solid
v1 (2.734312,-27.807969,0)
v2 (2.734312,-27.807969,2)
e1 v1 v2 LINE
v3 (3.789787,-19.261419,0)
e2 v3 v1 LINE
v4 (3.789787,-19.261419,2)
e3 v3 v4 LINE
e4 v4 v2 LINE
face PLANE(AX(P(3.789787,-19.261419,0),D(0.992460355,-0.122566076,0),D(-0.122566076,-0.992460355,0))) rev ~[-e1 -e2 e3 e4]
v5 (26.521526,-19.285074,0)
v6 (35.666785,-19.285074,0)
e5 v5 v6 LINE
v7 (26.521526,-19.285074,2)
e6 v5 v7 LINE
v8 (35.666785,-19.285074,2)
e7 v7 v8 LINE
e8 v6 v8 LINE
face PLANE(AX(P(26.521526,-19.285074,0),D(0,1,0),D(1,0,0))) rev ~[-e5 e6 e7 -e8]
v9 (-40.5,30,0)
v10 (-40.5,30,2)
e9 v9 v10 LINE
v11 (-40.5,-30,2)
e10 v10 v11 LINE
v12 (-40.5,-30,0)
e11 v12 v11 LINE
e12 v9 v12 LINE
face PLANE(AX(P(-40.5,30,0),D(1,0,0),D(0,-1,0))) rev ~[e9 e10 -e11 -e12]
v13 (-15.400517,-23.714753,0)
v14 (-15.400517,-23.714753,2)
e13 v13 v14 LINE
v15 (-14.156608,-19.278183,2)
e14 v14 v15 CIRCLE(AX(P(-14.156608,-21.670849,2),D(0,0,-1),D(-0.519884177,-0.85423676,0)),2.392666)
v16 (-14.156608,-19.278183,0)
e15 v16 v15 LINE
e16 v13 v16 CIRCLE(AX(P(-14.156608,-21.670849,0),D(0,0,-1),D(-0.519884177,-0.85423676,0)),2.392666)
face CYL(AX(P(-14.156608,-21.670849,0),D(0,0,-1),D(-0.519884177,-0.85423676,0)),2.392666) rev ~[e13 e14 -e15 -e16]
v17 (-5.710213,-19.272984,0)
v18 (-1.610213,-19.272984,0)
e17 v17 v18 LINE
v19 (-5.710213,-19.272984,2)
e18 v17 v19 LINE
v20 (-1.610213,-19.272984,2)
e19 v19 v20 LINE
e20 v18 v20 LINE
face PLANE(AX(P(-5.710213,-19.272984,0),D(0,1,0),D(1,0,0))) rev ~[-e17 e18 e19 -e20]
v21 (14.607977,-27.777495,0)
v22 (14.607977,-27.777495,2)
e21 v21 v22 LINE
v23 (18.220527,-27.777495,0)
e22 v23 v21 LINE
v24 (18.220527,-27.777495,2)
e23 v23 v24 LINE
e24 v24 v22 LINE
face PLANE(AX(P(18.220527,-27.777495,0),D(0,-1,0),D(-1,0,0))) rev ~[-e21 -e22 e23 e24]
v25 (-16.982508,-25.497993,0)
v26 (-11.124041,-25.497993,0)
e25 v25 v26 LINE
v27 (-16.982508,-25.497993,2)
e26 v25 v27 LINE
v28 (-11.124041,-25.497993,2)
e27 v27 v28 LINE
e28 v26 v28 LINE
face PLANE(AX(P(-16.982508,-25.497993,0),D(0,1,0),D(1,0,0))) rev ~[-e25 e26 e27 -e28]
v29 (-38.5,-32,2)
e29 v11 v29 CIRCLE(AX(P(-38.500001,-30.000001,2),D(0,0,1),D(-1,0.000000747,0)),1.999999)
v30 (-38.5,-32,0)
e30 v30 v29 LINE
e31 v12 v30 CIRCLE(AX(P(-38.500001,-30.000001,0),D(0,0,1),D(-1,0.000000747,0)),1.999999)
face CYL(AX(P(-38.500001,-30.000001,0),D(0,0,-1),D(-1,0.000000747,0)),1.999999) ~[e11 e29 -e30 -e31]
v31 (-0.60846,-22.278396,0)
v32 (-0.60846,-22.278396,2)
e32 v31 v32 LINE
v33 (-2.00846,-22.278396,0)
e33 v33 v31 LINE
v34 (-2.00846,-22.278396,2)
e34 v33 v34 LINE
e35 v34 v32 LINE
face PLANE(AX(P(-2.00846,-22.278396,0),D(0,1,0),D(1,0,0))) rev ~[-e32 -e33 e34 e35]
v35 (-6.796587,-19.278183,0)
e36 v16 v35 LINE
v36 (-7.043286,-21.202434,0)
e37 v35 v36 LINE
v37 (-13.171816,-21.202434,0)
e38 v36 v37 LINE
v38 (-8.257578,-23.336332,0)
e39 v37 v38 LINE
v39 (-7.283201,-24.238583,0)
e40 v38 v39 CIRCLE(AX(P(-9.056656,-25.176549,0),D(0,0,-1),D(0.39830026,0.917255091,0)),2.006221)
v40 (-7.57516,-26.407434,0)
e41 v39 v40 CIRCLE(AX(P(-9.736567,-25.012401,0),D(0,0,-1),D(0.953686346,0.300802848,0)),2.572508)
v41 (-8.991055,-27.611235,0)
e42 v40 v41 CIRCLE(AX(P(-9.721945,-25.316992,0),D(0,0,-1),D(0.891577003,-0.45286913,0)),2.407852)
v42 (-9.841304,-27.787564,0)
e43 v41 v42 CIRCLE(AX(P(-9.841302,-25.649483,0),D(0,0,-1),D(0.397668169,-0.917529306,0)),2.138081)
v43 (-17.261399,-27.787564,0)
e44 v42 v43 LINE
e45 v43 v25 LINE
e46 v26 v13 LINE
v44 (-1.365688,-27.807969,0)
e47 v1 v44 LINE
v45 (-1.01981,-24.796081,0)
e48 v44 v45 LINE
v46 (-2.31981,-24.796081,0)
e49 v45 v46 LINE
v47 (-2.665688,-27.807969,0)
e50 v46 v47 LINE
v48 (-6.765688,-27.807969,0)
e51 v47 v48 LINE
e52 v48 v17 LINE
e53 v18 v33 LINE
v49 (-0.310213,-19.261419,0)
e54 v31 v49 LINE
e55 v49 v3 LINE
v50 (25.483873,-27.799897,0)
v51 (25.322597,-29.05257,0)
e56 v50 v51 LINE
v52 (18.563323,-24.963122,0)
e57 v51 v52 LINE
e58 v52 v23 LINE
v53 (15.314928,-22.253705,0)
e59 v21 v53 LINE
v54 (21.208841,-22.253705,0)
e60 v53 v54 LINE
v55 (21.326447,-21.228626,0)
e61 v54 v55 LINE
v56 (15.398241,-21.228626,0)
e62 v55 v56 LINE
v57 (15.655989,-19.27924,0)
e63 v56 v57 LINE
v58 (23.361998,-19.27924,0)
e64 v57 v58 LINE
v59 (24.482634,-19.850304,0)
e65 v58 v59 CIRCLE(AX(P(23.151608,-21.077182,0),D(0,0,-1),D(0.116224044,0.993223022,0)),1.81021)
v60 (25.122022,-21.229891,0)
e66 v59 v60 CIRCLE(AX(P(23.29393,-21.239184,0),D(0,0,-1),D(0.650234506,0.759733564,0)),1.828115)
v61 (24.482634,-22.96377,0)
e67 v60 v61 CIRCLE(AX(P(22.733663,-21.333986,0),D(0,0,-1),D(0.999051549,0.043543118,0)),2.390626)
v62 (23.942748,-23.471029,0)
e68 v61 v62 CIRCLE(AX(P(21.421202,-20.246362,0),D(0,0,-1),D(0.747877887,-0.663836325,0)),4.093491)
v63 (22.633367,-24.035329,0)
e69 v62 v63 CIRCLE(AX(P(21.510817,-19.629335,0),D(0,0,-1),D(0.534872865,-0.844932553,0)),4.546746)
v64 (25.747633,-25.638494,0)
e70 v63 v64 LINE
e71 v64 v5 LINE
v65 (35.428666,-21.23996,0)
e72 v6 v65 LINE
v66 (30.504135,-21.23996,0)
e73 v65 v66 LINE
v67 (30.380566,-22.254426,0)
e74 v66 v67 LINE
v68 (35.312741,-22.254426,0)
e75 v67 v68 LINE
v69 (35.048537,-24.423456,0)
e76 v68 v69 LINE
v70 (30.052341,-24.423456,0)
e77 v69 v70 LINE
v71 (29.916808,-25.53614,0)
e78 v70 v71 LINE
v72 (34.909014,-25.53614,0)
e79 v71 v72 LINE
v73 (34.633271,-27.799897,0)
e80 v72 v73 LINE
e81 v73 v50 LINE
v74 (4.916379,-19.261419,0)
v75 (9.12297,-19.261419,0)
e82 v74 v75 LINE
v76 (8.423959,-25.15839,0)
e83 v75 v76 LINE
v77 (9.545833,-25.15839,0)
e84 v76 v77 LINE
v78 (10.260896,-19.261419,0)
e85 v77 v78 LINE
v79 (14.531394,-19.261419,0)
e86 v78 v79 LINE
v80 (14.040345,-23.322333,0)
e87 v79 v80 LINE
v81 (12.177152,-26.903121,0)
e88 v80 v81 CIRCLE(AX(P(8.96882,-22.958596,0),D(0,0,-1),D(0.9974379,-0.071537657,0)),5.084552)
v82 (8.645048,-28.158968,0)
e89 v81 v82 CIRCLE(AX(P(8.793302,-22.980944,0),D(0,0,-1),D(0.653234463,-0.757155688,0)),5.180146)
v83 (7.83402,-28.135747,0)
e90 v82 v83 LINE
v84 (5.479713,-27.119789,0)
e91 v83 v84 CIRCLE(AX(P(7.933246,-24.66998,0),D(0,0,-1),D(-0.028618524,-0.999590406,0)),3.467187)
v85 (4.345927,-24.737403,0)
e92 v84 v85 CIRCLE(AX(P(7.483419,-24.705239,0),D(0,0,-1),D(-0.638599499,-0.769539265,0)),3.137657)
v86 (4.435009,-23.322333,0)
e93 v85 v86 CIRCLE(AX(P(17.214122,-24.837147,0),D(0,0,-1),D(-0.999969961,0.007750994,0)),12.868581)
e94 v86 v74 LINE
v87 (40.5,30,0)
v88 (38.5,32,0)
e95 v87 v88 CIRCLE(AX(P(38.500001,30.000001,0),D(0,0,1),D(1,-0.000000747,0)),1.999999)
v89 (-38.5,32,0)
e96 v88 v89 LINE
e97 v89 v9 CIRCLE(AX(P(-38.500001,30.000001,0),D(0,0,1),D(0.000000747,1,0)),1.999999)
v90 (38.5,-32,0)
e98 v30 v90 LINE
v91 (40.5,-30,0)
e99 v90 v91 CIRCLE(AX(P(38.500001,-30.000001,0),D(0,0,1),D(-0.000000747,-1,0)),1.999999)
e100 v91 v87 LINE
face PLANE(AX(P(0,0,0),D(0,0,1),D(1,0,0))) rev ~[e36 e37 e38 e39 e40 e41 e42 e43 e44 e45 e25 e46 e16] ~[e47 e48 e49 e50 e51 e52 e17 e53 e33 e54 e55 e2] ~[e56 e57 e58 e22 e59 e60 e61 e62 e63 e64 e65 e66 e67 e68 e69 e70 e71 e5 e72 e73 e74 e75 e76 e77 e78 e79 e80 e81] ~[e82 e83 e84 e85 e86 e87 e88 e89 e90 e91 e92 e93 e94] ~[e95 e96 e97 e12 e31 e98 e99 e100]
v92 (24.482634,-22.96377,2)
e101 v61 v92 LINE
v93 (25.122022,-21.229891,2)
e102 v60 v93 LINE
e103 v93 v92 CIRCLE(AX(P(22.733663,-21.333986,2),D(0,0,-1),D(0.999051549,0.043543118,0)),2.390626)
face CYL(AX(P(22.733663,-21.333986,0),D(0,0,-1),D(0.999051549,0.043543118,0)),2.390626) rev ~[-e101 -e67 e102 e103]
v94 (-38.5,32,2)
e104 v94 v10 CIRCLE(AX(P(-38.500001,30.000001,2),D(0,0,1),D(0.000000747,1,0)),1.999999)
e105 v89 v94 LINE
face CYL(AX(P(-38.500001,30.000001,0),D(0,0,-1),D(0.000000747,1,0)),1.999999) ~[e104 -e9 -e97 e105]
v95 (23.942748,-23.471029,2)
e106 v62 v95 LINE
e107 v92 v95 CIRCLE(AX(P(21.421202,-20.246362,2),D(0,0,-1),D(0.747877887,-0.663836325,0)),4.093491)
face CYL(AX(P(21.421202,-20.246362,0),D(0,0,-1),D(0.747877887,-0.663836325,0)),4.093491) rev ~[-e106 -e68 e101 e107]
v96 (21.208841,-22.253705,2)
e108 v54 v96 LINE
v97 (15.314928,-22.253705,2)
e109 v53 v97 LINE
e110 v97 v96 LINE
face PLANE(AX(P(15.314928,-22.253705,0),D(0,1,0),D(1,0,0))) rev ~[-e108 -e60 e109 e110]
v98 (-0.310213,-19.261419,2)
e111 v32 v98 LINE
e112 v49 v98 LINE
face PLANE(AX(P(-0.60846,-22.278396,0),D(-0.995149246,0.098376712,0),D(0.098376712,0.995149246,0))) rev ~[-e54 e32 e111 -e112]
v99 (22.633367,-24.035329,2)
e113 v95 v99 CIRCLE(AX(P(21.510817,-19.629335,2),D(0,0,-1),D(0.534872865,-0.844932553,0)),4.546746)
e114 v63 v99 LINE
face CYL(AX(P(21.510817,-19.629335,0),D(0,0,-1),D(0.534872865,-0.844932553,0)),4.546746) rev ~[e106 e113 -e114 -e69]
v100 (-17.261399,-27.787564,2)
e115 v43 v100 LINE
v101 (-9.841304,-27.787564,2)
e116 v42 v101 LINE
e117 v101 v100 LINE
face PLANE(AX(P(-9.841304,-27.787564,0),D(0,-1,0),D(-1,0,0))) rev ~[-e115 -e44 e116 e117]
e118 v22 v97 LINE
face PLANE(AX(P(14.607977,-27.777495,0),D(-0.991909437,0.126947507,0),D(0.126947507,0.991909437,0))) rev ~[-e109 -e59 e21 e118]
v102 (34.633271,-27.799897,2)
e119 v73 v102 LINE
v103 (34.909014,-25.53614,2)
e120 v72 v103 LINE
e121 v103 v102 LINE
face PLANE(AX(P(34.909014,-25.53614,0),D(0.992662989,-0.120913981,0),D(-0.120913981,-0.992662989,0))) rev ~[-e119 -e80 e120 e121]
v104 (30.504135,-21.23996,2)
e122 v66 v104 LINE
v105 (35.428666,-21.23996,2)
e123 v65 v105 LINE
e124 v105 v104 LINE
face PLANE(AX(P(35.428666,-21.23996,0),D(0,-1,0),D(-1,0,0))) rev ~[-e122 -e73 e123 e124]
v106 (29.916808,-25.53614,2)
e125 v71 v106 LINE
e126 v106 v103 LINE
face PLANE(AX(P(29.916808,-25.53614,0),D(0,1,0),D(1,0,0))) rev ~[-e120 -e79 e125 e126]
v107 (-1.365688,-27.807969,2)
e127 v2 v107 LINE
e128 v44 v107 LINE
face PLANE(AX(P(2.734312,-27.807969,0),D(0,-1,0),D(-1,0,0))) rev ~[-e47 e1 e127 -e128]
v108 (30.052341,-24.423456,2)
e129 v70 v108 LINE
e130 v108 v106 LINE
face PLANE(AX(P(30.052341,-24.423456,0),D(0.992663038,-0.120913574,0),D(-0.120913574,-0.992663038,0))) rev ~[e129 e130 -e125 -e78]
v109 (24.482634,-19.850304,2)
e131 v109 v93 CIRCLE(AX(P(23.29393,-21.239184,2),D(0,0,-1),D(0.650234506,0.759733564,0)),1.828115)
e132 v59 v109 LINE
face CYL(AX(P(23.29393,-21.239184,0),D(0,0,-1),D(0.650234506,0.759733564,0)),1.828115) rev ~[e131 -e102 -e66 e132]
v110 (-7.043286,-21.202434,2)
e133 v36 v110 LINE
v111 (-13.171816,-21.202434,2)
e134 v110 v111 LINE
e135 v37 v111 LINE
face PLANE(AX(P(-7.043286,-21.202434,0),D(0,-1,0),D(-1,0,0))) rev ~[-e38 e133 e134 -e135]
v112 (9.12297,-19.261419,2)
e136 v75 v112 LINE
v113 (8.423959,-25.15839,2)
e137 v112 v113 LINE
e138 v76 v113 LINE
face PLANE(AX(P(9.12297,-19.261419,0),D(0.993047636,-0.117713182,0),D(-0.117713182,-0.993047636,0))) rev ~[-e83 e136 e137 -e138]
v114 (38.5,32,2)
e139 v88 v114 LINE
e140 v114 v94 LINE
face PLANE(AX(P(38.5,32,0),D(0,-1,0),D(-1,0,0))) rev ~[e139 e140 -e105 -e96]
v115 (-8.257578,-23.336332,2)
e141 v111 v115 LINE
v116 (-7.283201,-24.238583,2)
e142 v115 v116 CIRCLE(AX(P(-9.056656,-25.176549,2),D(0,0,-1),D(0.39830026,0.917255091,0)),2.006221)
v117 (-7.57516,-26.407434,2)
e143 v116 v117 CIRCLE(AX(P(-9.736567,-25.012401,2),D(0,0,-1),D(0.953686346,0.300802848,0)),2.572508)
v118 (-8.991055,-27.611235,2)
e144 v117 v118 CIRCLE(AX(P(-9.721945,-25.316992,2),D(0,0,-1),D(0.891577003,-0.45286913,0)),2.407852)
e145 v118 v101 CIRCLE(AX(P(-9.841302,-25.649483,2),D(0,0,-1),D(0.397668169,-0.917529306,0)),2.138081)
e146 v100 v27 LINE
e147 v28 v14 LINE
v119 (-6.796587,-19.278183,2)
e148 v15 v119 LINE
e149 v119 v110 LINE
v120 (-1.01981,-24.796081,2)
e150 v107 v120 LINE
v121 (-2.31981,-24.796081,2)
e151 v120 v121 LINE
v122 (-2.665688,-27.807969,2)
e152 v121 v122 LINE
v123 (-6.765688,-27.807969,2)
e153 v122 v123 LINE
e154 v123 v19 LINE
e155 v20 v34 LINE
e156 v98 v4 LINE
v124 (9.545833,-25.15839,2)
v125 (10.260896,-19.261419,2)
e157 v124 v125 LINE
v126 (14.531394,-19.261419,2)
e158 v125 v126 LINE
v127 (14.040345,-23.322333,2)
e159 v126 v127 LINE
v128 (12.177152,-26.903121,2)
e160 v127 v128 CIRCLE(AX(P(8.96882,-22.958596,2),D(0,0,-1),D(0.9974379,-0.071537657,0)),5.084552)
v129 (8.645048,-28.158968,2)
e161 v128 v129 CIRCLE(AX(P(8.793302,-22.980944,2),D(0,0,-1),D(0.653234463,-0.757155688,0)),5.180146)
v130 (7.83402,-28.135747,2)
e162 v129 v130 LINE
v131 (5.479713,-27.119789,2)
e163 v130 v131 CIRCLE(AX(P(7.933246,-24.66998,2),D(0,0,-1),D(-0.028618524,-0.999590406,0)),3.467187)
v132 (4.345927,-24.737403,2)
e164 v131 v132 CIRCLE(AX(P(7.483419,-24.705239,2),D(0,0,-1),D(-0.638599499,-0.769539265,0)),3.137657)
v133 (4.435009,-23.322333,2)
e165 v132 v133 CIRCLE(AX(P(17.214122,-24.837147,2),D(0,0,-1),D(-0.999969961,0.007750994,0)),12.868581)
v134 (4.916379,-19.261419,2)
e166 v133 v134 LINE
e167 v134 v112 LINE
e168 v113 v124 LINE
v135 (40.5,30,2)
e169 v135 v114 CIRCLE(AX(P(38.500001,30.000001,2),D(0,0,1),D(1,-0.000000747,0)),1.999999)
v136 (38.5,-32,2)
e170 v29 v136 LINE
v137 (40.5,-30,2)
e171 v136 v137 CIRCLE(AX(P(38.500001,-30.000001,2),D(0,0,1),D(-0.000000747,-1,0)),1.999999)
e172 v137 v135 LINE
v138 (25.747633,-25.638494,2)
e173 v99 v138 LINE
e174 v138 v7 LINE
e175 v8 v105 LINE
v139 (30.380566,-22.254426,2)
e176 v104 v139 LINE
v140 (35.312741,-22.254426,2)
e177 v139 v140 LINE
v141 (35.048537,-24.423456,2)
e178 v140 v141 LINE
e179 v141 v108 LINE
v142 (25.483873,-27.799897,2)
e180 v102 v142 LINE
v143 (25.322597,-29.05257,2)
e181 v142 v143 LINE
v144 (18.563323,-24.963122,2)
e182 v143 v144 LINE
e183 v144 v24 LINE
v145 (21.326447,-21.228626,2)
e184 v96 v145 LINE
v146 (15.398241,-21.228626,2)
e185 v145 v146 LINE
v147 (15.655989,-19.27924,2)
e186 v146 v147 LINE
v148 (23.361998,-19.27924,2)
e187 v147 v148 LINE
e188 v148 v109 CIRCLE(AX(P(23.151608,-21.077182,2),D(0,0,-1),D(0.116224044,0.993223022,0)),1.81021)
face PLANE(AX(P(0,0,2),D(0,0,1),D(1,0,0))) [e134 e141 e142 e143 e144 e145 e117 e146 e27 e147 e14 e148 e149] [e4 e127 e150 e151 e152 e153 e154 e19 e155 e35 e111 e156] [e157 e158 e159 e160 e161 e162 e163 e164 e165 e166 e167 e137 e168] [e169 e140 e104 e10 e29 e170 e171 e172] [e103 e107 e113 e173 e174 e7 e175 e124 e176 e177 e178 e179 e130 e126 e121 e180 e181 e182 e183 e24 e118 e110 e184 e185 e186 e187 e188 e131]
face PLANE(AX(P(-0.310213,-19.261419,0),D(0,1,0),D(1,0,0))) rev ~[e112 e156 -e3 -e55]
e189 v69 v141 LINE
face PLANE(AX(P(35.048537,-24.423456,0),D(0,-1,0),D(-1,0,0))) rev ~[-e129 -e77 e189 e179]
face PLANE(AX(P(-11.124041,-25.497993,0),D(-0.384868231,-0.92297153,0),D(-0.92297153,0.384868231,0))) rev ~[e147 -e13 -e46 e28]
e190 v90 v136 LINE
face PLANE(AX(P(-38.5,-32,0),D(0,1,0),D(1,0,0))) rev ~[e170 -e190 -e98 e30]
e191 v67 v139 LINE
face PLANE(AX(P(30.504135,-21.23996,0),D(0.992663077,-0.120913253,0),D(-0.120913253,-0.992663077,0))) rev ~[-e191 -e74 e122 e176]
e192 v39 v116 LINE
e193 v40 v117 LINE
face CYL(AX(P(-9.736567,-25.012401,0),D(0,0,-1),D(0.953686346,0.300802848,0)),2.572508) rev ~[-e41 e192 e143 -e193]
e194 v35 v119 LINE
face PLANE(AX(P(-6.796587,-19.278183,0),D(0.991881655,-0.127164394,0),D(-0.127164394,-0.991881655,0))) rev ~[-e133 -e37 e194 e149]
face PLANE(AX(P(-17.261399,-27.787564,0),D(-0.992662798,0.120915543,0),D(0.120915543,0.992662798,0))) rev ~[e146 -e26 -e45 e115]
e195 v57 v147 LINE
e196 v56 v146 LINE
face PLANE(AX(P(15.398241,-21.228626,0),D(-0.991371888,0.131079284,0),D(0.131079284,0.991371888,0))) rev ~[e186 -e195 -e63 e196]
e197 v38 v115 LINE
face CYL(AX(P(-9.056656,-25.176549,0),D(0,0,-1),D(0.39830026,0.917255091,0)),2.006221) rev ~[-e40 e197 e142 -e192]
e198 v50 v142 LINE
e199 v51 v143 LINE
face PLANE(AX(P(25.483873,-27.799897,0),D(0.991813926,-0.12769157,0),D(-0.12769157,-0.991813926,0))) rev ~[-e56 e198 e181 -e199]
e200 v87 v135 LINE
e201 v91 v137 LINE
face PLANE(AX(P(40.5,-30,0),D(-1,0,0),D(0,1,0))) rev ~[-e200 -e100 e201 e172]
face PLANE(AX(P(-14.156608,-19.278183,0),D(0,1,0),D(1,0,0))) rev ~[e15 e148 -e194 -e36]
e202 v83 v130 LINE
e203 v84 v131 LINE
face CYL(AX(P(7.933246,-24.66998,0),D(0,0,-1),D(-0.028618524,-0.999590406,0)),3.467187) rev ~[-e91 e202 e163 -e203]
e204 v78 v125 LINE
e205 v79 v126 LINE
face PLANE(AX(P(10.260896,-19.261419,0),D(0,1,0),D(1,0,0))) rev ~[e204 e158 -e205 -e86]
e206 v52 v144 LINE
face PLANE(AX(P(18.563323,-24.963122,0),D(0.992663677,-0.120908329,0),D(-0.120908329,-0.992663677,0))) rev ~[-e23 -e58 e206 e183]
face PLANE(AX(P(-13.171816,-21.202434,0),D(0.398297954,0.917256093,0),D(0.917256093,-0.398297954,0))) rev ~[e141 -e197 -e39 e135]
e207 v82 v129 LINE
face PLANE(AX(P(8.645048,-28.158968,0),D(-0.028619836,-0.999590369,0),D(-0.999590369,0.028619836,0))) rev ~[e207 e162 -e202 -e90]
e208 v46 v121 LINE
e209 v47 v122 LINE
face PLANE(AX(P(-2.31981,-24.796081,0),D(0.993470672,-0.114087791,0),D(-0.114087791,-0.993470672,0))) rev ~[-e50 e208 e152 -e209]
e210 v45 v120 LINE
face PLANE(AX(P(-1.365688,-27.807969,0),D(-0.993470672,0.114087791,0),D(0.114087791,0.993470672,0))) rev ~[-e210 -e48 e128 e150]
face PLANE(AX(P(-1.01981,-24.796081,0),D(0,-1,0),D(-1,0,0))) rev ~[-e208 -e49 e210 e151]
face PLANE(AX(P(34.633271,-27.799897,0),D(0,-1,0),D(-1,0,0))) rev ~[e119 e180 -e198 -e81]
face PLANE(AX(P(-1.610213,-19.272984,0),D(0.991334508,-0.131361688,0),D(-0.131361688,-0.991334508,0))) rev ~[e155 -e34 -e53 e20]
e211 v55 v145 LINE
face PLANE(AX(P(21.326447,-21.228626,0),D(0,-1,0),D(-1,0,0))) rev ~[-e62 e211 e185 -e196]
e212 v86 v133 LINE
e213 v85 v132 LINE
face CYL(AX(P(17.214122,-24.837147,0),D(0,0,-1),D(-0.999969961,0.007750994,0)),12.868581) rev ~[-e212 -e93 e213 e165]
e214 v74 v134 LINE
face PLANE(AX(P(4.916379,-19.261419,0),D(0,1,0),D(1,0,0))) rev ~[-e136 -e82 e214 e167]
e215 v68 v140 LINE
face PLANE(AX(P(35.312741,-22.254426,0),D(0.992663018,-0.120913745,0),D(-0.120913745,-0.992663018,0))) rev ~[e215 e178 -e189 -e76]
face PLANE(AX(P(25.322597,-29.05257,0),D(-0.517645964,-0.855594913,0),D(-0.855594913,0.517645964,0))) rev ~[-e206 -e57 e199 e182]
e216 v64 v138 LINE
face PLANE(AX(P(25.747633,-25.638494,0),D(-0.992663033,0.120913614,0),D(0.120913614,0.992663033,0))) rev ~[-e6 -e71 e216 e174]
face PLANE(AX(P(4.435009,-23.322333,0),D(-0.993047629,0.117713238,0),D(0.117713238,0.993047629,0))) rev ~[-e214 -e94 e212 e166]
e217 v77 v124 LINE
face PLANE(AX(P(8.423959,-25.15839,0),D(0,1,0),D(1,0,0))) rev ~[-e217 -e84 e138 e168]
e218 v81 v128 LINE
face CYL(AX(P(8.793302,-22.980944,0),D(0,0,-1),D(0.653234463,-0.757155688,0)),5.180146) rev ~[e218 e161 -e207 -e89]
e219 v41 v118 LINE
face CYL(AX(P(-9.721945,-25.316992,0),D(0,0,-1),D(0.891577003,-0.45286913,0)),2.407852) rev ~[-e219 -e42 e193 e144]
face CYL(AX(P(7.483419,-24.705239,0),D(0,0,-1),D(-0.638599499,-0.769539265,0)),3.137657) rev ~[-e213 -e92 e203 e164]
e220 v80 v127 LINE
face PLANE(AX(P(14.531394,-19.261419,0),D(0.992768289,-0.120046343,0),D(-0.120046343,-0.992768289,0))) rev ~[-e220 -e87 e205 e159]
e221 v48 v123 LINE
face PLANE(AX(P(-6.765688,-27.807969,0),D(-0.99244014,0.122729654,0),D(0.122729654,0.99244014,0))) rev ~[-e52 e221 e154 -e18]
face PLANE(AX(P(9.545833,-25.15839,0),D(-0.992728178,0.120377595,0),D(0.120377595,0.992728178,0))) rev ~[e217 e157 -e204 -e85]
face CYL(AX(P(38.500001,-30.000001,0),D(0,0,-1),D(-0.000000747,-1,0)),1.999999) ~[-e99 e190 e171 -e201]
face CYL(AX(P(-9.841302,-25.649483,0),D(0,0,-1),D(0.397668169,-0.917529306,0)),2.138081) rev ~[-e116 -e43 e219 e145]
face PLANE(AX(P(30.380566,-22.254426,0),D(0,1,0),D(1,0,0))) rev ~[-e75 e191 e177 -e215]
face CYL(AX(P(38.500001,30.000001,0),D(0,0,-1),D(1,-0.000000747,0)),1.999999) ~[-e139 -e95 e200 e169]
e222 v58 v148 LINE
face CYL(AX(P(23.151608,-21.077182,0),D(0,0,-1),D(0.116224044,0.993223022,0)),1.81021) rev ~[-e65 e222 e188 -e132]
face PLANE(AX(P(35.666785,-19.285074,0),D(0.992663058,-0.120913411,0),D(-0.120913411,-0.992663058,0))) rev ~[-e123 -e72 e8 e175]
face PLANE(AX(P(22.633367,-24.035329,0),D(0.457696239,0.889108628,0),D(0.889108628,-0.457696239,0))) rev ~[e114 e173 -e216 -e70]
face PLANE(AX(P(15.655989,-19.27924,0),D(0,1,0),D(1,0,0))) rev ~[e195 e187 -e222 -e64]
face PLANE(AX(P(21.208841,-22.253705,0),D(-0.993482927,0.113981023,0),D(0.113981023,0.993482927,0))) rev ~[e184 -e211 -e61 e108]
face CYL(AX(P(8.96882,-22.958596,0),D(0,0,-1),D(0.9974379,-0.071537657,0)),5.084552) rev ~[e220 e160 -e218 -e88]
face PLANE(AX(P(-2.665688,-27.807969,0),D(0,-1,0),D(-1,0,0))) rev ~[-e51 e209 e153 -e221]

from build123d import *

# Parameters (mm, degrees)
F1_DEPTH = 2


with BuildPart() as f1:
    # F0 (on Top) → F1 (new body)
    with BuildSketch(Plane.XY):
        with BuildLine():
            Line((38.5, 32), (-38.5, 32))
            ThreePointArc((-38.5, 32), (-39.914214, 31.414214), (-40.5, 30))
            Line((-40.5, 30), (-40.5, -30))
            ThreePointArc((-40.5, -30), (-39.914214, -31.414214), (-38.5, -32))
            Line((-38.5, -32), (38.5, -32))
            ThreePointArc((38.5, -32), (39.914214, -31.414214), (40.5, -30))
            Line((40.5, -30), (40.5, 30))
            ThreePointArc((40.5, 30), (39.914214, 31.414214), (38.5, 32))
        make_face()
        with BuildLine():
            Line((-14.156608, -19.278183), (-6.796587, -19.278183))
            Line((-6.796587, -19.278183), (-7.043286, -21.202434))
            Line((-7.043286, -21.202434), (-13.171816, -21.202434))
            Line((-13.171816, -21.202434), (-8.257578, -23.336332))
            ThreePointArc((-8.257578, -23.336332), (-7.693573, -23.7045), (-7.283201, -24.238583))
            ThreePointArc((-7.283201, -24.238583), (-7.187055, -25.355602), (-7.57516, -26.407434))
            ThreePointArc((-7.57516, -26.407434), (-8.162286, -27.151444), (-8.991055, -27.611235))
            ThreePointArc((-8.991055, -27.611235), (-9.407134, -27.743018), (-9.841304, -27.787564))
            Line((-9.841304, -27.787564), (-17.261399, -27.787564))
            Line((-17.261399, -27.787564), (-16.982508, -25.497993))
            Line((-16.982508, -25.497993), (-11.124041, -25.497993))
            Line((-11.124041, -25.497993), (-15.400517, -23.714753))
            ThreePointArc((-15.400517, -23.714753), (-16.460434, -21.024911), (-14.156608, -19.278183))
        make_face(mode=Mode.SUBTRACT)
        Polygon((-6.765688, -27.807969), (-5.710213, -19.272984), (-1.610213, -19.272984), (-2.00846, -22.278396), (-0.60846, -22.278396), (-0.310213, -19.261419), (3.789787, -19.261419), (2.734312, -27.807969), (-1.365688, -27.807969), (-1.01981, -24.796081), (-2.31981, -24.796081), (-2.665688, -27.807969), align=None, mode=Mode.SUBTRACT)
        with BuildLine():
            Line((4.435009, -23.322333), (4.916379, -19.261419))
            Line((4.916379, -19.261419), (9.12297, -19.261419))
            Line((9.12297, -19.261419), (8.423959, -25.15839))
            Line((8.423959, -25.15839), (9.545833, -25.15839))
            Line((9.545833, -25.15839), (10.260896, -19.261419))
            Line((10.260896, -19.261419), (14.531394, -19.261419))
            Line((14.531394, -19.261419), (14.040345, -23.322333))
            ThreePointArc((14.040345, -23.322333), (13.47931, -25.305541), (12.177152, -26.903121))
            ThreePointArc((12.177152, -26.903121), (10.528686, -27.861759), (8.645048, -28.158968))
            Line((8.645048, -28.158968), (7.83402, -28.135747))
            ThreePointArc((7.83402, -28.135747), (6.559497, -27.853406), (5.479713, -27.119789))
            ThreePointArc((5.479713, -27.119789), (4.650237, -26.05356), (4.345927, -24.737403))
            ThreePointArc((4.345927, -24.737403), (4.370964, -24.02864), (4.435009, -23.322333))
        make_face(mode=Mode.SUBTRACT)
        with BuildLine():
            Line((15.398241, -21.228626), (15.655989, -19.27924))
            Line((15.655989, -19.27924), (23.361998, -19.27924))
            ThreePointArc((23.361998, -19.27924), (23.973508, -19.464315), (24.482634, -19.850304))
            ThreePointArc((24.482634, -19.850304), (24.952568, -20.470467), (25.122022, -21.229891))
            ThreePointArc((25.122022, -21.229891), (24.976643, -22.161111), (24.482634, -22.96377))
            ThreePointArc((24.482634, -22.96377), (24.224189, -23.229638), (23.942748, -23.471029))
            ThreePointArc((23.942748, -23.471029), (23.310315, -23.804824), (22.633367, -24.035329))
            Line((22.633367, -24.035329), (25.747633, -25.638494))
            Line((25.747633, -25.638494), (26.521526, -19.285074))
            Line((26.521526, -19.285074), (35.666785, -19.285074))
            Line((35.666785, -19.285074), (35.428666, -21.23996))
            Line((35.428666, -21.23996), (30.504135, -21.23996))
            Line((30.504135, -21.23996), (30.380566, -22.254426))
            Line((30.380566, -22.254426), (35.312741, -22.254426))
            Line((35.312741, -22.254426), (35.048537, -24.423456))
            Line((35.048537, -24.423456), (30.052341, -24.423456))
            Line((30.052341, -24.423456), (29.916808, -25.53614))
            Line((29.916808, -25.53614), (34.909014, -25.53614))
            Line((34.909014, -25.53614), (34.633271, -27.799897))
            Line((34.633271, -27.799897), (25.483873, -27.799897))
            Line((25.483873, -27.799897), (25.322597, -29.05257))
            Line((25.322597, -29.05257), (18.563323, -24.963122))
            Line((18.563323, -24.963122), (18.220527, -27.777495))
            Line((18.220527, -27.777495), (14.607977, -27.777495))
            Line((14.607977, -27.777495), (15.314928, -22.253705))
            Line((15.314928, -22.253705), (21.208841, -22.253705))
            Line((21.208841, -22.253705), (21.326447, -21.228626))
            Line((21.326447, -21.228626), (15.398241, -21.228626))
        make_face(mode=Mode.SUBTRACT)
    extrude(amount=F1_DEPTH)


solid = f1.part
